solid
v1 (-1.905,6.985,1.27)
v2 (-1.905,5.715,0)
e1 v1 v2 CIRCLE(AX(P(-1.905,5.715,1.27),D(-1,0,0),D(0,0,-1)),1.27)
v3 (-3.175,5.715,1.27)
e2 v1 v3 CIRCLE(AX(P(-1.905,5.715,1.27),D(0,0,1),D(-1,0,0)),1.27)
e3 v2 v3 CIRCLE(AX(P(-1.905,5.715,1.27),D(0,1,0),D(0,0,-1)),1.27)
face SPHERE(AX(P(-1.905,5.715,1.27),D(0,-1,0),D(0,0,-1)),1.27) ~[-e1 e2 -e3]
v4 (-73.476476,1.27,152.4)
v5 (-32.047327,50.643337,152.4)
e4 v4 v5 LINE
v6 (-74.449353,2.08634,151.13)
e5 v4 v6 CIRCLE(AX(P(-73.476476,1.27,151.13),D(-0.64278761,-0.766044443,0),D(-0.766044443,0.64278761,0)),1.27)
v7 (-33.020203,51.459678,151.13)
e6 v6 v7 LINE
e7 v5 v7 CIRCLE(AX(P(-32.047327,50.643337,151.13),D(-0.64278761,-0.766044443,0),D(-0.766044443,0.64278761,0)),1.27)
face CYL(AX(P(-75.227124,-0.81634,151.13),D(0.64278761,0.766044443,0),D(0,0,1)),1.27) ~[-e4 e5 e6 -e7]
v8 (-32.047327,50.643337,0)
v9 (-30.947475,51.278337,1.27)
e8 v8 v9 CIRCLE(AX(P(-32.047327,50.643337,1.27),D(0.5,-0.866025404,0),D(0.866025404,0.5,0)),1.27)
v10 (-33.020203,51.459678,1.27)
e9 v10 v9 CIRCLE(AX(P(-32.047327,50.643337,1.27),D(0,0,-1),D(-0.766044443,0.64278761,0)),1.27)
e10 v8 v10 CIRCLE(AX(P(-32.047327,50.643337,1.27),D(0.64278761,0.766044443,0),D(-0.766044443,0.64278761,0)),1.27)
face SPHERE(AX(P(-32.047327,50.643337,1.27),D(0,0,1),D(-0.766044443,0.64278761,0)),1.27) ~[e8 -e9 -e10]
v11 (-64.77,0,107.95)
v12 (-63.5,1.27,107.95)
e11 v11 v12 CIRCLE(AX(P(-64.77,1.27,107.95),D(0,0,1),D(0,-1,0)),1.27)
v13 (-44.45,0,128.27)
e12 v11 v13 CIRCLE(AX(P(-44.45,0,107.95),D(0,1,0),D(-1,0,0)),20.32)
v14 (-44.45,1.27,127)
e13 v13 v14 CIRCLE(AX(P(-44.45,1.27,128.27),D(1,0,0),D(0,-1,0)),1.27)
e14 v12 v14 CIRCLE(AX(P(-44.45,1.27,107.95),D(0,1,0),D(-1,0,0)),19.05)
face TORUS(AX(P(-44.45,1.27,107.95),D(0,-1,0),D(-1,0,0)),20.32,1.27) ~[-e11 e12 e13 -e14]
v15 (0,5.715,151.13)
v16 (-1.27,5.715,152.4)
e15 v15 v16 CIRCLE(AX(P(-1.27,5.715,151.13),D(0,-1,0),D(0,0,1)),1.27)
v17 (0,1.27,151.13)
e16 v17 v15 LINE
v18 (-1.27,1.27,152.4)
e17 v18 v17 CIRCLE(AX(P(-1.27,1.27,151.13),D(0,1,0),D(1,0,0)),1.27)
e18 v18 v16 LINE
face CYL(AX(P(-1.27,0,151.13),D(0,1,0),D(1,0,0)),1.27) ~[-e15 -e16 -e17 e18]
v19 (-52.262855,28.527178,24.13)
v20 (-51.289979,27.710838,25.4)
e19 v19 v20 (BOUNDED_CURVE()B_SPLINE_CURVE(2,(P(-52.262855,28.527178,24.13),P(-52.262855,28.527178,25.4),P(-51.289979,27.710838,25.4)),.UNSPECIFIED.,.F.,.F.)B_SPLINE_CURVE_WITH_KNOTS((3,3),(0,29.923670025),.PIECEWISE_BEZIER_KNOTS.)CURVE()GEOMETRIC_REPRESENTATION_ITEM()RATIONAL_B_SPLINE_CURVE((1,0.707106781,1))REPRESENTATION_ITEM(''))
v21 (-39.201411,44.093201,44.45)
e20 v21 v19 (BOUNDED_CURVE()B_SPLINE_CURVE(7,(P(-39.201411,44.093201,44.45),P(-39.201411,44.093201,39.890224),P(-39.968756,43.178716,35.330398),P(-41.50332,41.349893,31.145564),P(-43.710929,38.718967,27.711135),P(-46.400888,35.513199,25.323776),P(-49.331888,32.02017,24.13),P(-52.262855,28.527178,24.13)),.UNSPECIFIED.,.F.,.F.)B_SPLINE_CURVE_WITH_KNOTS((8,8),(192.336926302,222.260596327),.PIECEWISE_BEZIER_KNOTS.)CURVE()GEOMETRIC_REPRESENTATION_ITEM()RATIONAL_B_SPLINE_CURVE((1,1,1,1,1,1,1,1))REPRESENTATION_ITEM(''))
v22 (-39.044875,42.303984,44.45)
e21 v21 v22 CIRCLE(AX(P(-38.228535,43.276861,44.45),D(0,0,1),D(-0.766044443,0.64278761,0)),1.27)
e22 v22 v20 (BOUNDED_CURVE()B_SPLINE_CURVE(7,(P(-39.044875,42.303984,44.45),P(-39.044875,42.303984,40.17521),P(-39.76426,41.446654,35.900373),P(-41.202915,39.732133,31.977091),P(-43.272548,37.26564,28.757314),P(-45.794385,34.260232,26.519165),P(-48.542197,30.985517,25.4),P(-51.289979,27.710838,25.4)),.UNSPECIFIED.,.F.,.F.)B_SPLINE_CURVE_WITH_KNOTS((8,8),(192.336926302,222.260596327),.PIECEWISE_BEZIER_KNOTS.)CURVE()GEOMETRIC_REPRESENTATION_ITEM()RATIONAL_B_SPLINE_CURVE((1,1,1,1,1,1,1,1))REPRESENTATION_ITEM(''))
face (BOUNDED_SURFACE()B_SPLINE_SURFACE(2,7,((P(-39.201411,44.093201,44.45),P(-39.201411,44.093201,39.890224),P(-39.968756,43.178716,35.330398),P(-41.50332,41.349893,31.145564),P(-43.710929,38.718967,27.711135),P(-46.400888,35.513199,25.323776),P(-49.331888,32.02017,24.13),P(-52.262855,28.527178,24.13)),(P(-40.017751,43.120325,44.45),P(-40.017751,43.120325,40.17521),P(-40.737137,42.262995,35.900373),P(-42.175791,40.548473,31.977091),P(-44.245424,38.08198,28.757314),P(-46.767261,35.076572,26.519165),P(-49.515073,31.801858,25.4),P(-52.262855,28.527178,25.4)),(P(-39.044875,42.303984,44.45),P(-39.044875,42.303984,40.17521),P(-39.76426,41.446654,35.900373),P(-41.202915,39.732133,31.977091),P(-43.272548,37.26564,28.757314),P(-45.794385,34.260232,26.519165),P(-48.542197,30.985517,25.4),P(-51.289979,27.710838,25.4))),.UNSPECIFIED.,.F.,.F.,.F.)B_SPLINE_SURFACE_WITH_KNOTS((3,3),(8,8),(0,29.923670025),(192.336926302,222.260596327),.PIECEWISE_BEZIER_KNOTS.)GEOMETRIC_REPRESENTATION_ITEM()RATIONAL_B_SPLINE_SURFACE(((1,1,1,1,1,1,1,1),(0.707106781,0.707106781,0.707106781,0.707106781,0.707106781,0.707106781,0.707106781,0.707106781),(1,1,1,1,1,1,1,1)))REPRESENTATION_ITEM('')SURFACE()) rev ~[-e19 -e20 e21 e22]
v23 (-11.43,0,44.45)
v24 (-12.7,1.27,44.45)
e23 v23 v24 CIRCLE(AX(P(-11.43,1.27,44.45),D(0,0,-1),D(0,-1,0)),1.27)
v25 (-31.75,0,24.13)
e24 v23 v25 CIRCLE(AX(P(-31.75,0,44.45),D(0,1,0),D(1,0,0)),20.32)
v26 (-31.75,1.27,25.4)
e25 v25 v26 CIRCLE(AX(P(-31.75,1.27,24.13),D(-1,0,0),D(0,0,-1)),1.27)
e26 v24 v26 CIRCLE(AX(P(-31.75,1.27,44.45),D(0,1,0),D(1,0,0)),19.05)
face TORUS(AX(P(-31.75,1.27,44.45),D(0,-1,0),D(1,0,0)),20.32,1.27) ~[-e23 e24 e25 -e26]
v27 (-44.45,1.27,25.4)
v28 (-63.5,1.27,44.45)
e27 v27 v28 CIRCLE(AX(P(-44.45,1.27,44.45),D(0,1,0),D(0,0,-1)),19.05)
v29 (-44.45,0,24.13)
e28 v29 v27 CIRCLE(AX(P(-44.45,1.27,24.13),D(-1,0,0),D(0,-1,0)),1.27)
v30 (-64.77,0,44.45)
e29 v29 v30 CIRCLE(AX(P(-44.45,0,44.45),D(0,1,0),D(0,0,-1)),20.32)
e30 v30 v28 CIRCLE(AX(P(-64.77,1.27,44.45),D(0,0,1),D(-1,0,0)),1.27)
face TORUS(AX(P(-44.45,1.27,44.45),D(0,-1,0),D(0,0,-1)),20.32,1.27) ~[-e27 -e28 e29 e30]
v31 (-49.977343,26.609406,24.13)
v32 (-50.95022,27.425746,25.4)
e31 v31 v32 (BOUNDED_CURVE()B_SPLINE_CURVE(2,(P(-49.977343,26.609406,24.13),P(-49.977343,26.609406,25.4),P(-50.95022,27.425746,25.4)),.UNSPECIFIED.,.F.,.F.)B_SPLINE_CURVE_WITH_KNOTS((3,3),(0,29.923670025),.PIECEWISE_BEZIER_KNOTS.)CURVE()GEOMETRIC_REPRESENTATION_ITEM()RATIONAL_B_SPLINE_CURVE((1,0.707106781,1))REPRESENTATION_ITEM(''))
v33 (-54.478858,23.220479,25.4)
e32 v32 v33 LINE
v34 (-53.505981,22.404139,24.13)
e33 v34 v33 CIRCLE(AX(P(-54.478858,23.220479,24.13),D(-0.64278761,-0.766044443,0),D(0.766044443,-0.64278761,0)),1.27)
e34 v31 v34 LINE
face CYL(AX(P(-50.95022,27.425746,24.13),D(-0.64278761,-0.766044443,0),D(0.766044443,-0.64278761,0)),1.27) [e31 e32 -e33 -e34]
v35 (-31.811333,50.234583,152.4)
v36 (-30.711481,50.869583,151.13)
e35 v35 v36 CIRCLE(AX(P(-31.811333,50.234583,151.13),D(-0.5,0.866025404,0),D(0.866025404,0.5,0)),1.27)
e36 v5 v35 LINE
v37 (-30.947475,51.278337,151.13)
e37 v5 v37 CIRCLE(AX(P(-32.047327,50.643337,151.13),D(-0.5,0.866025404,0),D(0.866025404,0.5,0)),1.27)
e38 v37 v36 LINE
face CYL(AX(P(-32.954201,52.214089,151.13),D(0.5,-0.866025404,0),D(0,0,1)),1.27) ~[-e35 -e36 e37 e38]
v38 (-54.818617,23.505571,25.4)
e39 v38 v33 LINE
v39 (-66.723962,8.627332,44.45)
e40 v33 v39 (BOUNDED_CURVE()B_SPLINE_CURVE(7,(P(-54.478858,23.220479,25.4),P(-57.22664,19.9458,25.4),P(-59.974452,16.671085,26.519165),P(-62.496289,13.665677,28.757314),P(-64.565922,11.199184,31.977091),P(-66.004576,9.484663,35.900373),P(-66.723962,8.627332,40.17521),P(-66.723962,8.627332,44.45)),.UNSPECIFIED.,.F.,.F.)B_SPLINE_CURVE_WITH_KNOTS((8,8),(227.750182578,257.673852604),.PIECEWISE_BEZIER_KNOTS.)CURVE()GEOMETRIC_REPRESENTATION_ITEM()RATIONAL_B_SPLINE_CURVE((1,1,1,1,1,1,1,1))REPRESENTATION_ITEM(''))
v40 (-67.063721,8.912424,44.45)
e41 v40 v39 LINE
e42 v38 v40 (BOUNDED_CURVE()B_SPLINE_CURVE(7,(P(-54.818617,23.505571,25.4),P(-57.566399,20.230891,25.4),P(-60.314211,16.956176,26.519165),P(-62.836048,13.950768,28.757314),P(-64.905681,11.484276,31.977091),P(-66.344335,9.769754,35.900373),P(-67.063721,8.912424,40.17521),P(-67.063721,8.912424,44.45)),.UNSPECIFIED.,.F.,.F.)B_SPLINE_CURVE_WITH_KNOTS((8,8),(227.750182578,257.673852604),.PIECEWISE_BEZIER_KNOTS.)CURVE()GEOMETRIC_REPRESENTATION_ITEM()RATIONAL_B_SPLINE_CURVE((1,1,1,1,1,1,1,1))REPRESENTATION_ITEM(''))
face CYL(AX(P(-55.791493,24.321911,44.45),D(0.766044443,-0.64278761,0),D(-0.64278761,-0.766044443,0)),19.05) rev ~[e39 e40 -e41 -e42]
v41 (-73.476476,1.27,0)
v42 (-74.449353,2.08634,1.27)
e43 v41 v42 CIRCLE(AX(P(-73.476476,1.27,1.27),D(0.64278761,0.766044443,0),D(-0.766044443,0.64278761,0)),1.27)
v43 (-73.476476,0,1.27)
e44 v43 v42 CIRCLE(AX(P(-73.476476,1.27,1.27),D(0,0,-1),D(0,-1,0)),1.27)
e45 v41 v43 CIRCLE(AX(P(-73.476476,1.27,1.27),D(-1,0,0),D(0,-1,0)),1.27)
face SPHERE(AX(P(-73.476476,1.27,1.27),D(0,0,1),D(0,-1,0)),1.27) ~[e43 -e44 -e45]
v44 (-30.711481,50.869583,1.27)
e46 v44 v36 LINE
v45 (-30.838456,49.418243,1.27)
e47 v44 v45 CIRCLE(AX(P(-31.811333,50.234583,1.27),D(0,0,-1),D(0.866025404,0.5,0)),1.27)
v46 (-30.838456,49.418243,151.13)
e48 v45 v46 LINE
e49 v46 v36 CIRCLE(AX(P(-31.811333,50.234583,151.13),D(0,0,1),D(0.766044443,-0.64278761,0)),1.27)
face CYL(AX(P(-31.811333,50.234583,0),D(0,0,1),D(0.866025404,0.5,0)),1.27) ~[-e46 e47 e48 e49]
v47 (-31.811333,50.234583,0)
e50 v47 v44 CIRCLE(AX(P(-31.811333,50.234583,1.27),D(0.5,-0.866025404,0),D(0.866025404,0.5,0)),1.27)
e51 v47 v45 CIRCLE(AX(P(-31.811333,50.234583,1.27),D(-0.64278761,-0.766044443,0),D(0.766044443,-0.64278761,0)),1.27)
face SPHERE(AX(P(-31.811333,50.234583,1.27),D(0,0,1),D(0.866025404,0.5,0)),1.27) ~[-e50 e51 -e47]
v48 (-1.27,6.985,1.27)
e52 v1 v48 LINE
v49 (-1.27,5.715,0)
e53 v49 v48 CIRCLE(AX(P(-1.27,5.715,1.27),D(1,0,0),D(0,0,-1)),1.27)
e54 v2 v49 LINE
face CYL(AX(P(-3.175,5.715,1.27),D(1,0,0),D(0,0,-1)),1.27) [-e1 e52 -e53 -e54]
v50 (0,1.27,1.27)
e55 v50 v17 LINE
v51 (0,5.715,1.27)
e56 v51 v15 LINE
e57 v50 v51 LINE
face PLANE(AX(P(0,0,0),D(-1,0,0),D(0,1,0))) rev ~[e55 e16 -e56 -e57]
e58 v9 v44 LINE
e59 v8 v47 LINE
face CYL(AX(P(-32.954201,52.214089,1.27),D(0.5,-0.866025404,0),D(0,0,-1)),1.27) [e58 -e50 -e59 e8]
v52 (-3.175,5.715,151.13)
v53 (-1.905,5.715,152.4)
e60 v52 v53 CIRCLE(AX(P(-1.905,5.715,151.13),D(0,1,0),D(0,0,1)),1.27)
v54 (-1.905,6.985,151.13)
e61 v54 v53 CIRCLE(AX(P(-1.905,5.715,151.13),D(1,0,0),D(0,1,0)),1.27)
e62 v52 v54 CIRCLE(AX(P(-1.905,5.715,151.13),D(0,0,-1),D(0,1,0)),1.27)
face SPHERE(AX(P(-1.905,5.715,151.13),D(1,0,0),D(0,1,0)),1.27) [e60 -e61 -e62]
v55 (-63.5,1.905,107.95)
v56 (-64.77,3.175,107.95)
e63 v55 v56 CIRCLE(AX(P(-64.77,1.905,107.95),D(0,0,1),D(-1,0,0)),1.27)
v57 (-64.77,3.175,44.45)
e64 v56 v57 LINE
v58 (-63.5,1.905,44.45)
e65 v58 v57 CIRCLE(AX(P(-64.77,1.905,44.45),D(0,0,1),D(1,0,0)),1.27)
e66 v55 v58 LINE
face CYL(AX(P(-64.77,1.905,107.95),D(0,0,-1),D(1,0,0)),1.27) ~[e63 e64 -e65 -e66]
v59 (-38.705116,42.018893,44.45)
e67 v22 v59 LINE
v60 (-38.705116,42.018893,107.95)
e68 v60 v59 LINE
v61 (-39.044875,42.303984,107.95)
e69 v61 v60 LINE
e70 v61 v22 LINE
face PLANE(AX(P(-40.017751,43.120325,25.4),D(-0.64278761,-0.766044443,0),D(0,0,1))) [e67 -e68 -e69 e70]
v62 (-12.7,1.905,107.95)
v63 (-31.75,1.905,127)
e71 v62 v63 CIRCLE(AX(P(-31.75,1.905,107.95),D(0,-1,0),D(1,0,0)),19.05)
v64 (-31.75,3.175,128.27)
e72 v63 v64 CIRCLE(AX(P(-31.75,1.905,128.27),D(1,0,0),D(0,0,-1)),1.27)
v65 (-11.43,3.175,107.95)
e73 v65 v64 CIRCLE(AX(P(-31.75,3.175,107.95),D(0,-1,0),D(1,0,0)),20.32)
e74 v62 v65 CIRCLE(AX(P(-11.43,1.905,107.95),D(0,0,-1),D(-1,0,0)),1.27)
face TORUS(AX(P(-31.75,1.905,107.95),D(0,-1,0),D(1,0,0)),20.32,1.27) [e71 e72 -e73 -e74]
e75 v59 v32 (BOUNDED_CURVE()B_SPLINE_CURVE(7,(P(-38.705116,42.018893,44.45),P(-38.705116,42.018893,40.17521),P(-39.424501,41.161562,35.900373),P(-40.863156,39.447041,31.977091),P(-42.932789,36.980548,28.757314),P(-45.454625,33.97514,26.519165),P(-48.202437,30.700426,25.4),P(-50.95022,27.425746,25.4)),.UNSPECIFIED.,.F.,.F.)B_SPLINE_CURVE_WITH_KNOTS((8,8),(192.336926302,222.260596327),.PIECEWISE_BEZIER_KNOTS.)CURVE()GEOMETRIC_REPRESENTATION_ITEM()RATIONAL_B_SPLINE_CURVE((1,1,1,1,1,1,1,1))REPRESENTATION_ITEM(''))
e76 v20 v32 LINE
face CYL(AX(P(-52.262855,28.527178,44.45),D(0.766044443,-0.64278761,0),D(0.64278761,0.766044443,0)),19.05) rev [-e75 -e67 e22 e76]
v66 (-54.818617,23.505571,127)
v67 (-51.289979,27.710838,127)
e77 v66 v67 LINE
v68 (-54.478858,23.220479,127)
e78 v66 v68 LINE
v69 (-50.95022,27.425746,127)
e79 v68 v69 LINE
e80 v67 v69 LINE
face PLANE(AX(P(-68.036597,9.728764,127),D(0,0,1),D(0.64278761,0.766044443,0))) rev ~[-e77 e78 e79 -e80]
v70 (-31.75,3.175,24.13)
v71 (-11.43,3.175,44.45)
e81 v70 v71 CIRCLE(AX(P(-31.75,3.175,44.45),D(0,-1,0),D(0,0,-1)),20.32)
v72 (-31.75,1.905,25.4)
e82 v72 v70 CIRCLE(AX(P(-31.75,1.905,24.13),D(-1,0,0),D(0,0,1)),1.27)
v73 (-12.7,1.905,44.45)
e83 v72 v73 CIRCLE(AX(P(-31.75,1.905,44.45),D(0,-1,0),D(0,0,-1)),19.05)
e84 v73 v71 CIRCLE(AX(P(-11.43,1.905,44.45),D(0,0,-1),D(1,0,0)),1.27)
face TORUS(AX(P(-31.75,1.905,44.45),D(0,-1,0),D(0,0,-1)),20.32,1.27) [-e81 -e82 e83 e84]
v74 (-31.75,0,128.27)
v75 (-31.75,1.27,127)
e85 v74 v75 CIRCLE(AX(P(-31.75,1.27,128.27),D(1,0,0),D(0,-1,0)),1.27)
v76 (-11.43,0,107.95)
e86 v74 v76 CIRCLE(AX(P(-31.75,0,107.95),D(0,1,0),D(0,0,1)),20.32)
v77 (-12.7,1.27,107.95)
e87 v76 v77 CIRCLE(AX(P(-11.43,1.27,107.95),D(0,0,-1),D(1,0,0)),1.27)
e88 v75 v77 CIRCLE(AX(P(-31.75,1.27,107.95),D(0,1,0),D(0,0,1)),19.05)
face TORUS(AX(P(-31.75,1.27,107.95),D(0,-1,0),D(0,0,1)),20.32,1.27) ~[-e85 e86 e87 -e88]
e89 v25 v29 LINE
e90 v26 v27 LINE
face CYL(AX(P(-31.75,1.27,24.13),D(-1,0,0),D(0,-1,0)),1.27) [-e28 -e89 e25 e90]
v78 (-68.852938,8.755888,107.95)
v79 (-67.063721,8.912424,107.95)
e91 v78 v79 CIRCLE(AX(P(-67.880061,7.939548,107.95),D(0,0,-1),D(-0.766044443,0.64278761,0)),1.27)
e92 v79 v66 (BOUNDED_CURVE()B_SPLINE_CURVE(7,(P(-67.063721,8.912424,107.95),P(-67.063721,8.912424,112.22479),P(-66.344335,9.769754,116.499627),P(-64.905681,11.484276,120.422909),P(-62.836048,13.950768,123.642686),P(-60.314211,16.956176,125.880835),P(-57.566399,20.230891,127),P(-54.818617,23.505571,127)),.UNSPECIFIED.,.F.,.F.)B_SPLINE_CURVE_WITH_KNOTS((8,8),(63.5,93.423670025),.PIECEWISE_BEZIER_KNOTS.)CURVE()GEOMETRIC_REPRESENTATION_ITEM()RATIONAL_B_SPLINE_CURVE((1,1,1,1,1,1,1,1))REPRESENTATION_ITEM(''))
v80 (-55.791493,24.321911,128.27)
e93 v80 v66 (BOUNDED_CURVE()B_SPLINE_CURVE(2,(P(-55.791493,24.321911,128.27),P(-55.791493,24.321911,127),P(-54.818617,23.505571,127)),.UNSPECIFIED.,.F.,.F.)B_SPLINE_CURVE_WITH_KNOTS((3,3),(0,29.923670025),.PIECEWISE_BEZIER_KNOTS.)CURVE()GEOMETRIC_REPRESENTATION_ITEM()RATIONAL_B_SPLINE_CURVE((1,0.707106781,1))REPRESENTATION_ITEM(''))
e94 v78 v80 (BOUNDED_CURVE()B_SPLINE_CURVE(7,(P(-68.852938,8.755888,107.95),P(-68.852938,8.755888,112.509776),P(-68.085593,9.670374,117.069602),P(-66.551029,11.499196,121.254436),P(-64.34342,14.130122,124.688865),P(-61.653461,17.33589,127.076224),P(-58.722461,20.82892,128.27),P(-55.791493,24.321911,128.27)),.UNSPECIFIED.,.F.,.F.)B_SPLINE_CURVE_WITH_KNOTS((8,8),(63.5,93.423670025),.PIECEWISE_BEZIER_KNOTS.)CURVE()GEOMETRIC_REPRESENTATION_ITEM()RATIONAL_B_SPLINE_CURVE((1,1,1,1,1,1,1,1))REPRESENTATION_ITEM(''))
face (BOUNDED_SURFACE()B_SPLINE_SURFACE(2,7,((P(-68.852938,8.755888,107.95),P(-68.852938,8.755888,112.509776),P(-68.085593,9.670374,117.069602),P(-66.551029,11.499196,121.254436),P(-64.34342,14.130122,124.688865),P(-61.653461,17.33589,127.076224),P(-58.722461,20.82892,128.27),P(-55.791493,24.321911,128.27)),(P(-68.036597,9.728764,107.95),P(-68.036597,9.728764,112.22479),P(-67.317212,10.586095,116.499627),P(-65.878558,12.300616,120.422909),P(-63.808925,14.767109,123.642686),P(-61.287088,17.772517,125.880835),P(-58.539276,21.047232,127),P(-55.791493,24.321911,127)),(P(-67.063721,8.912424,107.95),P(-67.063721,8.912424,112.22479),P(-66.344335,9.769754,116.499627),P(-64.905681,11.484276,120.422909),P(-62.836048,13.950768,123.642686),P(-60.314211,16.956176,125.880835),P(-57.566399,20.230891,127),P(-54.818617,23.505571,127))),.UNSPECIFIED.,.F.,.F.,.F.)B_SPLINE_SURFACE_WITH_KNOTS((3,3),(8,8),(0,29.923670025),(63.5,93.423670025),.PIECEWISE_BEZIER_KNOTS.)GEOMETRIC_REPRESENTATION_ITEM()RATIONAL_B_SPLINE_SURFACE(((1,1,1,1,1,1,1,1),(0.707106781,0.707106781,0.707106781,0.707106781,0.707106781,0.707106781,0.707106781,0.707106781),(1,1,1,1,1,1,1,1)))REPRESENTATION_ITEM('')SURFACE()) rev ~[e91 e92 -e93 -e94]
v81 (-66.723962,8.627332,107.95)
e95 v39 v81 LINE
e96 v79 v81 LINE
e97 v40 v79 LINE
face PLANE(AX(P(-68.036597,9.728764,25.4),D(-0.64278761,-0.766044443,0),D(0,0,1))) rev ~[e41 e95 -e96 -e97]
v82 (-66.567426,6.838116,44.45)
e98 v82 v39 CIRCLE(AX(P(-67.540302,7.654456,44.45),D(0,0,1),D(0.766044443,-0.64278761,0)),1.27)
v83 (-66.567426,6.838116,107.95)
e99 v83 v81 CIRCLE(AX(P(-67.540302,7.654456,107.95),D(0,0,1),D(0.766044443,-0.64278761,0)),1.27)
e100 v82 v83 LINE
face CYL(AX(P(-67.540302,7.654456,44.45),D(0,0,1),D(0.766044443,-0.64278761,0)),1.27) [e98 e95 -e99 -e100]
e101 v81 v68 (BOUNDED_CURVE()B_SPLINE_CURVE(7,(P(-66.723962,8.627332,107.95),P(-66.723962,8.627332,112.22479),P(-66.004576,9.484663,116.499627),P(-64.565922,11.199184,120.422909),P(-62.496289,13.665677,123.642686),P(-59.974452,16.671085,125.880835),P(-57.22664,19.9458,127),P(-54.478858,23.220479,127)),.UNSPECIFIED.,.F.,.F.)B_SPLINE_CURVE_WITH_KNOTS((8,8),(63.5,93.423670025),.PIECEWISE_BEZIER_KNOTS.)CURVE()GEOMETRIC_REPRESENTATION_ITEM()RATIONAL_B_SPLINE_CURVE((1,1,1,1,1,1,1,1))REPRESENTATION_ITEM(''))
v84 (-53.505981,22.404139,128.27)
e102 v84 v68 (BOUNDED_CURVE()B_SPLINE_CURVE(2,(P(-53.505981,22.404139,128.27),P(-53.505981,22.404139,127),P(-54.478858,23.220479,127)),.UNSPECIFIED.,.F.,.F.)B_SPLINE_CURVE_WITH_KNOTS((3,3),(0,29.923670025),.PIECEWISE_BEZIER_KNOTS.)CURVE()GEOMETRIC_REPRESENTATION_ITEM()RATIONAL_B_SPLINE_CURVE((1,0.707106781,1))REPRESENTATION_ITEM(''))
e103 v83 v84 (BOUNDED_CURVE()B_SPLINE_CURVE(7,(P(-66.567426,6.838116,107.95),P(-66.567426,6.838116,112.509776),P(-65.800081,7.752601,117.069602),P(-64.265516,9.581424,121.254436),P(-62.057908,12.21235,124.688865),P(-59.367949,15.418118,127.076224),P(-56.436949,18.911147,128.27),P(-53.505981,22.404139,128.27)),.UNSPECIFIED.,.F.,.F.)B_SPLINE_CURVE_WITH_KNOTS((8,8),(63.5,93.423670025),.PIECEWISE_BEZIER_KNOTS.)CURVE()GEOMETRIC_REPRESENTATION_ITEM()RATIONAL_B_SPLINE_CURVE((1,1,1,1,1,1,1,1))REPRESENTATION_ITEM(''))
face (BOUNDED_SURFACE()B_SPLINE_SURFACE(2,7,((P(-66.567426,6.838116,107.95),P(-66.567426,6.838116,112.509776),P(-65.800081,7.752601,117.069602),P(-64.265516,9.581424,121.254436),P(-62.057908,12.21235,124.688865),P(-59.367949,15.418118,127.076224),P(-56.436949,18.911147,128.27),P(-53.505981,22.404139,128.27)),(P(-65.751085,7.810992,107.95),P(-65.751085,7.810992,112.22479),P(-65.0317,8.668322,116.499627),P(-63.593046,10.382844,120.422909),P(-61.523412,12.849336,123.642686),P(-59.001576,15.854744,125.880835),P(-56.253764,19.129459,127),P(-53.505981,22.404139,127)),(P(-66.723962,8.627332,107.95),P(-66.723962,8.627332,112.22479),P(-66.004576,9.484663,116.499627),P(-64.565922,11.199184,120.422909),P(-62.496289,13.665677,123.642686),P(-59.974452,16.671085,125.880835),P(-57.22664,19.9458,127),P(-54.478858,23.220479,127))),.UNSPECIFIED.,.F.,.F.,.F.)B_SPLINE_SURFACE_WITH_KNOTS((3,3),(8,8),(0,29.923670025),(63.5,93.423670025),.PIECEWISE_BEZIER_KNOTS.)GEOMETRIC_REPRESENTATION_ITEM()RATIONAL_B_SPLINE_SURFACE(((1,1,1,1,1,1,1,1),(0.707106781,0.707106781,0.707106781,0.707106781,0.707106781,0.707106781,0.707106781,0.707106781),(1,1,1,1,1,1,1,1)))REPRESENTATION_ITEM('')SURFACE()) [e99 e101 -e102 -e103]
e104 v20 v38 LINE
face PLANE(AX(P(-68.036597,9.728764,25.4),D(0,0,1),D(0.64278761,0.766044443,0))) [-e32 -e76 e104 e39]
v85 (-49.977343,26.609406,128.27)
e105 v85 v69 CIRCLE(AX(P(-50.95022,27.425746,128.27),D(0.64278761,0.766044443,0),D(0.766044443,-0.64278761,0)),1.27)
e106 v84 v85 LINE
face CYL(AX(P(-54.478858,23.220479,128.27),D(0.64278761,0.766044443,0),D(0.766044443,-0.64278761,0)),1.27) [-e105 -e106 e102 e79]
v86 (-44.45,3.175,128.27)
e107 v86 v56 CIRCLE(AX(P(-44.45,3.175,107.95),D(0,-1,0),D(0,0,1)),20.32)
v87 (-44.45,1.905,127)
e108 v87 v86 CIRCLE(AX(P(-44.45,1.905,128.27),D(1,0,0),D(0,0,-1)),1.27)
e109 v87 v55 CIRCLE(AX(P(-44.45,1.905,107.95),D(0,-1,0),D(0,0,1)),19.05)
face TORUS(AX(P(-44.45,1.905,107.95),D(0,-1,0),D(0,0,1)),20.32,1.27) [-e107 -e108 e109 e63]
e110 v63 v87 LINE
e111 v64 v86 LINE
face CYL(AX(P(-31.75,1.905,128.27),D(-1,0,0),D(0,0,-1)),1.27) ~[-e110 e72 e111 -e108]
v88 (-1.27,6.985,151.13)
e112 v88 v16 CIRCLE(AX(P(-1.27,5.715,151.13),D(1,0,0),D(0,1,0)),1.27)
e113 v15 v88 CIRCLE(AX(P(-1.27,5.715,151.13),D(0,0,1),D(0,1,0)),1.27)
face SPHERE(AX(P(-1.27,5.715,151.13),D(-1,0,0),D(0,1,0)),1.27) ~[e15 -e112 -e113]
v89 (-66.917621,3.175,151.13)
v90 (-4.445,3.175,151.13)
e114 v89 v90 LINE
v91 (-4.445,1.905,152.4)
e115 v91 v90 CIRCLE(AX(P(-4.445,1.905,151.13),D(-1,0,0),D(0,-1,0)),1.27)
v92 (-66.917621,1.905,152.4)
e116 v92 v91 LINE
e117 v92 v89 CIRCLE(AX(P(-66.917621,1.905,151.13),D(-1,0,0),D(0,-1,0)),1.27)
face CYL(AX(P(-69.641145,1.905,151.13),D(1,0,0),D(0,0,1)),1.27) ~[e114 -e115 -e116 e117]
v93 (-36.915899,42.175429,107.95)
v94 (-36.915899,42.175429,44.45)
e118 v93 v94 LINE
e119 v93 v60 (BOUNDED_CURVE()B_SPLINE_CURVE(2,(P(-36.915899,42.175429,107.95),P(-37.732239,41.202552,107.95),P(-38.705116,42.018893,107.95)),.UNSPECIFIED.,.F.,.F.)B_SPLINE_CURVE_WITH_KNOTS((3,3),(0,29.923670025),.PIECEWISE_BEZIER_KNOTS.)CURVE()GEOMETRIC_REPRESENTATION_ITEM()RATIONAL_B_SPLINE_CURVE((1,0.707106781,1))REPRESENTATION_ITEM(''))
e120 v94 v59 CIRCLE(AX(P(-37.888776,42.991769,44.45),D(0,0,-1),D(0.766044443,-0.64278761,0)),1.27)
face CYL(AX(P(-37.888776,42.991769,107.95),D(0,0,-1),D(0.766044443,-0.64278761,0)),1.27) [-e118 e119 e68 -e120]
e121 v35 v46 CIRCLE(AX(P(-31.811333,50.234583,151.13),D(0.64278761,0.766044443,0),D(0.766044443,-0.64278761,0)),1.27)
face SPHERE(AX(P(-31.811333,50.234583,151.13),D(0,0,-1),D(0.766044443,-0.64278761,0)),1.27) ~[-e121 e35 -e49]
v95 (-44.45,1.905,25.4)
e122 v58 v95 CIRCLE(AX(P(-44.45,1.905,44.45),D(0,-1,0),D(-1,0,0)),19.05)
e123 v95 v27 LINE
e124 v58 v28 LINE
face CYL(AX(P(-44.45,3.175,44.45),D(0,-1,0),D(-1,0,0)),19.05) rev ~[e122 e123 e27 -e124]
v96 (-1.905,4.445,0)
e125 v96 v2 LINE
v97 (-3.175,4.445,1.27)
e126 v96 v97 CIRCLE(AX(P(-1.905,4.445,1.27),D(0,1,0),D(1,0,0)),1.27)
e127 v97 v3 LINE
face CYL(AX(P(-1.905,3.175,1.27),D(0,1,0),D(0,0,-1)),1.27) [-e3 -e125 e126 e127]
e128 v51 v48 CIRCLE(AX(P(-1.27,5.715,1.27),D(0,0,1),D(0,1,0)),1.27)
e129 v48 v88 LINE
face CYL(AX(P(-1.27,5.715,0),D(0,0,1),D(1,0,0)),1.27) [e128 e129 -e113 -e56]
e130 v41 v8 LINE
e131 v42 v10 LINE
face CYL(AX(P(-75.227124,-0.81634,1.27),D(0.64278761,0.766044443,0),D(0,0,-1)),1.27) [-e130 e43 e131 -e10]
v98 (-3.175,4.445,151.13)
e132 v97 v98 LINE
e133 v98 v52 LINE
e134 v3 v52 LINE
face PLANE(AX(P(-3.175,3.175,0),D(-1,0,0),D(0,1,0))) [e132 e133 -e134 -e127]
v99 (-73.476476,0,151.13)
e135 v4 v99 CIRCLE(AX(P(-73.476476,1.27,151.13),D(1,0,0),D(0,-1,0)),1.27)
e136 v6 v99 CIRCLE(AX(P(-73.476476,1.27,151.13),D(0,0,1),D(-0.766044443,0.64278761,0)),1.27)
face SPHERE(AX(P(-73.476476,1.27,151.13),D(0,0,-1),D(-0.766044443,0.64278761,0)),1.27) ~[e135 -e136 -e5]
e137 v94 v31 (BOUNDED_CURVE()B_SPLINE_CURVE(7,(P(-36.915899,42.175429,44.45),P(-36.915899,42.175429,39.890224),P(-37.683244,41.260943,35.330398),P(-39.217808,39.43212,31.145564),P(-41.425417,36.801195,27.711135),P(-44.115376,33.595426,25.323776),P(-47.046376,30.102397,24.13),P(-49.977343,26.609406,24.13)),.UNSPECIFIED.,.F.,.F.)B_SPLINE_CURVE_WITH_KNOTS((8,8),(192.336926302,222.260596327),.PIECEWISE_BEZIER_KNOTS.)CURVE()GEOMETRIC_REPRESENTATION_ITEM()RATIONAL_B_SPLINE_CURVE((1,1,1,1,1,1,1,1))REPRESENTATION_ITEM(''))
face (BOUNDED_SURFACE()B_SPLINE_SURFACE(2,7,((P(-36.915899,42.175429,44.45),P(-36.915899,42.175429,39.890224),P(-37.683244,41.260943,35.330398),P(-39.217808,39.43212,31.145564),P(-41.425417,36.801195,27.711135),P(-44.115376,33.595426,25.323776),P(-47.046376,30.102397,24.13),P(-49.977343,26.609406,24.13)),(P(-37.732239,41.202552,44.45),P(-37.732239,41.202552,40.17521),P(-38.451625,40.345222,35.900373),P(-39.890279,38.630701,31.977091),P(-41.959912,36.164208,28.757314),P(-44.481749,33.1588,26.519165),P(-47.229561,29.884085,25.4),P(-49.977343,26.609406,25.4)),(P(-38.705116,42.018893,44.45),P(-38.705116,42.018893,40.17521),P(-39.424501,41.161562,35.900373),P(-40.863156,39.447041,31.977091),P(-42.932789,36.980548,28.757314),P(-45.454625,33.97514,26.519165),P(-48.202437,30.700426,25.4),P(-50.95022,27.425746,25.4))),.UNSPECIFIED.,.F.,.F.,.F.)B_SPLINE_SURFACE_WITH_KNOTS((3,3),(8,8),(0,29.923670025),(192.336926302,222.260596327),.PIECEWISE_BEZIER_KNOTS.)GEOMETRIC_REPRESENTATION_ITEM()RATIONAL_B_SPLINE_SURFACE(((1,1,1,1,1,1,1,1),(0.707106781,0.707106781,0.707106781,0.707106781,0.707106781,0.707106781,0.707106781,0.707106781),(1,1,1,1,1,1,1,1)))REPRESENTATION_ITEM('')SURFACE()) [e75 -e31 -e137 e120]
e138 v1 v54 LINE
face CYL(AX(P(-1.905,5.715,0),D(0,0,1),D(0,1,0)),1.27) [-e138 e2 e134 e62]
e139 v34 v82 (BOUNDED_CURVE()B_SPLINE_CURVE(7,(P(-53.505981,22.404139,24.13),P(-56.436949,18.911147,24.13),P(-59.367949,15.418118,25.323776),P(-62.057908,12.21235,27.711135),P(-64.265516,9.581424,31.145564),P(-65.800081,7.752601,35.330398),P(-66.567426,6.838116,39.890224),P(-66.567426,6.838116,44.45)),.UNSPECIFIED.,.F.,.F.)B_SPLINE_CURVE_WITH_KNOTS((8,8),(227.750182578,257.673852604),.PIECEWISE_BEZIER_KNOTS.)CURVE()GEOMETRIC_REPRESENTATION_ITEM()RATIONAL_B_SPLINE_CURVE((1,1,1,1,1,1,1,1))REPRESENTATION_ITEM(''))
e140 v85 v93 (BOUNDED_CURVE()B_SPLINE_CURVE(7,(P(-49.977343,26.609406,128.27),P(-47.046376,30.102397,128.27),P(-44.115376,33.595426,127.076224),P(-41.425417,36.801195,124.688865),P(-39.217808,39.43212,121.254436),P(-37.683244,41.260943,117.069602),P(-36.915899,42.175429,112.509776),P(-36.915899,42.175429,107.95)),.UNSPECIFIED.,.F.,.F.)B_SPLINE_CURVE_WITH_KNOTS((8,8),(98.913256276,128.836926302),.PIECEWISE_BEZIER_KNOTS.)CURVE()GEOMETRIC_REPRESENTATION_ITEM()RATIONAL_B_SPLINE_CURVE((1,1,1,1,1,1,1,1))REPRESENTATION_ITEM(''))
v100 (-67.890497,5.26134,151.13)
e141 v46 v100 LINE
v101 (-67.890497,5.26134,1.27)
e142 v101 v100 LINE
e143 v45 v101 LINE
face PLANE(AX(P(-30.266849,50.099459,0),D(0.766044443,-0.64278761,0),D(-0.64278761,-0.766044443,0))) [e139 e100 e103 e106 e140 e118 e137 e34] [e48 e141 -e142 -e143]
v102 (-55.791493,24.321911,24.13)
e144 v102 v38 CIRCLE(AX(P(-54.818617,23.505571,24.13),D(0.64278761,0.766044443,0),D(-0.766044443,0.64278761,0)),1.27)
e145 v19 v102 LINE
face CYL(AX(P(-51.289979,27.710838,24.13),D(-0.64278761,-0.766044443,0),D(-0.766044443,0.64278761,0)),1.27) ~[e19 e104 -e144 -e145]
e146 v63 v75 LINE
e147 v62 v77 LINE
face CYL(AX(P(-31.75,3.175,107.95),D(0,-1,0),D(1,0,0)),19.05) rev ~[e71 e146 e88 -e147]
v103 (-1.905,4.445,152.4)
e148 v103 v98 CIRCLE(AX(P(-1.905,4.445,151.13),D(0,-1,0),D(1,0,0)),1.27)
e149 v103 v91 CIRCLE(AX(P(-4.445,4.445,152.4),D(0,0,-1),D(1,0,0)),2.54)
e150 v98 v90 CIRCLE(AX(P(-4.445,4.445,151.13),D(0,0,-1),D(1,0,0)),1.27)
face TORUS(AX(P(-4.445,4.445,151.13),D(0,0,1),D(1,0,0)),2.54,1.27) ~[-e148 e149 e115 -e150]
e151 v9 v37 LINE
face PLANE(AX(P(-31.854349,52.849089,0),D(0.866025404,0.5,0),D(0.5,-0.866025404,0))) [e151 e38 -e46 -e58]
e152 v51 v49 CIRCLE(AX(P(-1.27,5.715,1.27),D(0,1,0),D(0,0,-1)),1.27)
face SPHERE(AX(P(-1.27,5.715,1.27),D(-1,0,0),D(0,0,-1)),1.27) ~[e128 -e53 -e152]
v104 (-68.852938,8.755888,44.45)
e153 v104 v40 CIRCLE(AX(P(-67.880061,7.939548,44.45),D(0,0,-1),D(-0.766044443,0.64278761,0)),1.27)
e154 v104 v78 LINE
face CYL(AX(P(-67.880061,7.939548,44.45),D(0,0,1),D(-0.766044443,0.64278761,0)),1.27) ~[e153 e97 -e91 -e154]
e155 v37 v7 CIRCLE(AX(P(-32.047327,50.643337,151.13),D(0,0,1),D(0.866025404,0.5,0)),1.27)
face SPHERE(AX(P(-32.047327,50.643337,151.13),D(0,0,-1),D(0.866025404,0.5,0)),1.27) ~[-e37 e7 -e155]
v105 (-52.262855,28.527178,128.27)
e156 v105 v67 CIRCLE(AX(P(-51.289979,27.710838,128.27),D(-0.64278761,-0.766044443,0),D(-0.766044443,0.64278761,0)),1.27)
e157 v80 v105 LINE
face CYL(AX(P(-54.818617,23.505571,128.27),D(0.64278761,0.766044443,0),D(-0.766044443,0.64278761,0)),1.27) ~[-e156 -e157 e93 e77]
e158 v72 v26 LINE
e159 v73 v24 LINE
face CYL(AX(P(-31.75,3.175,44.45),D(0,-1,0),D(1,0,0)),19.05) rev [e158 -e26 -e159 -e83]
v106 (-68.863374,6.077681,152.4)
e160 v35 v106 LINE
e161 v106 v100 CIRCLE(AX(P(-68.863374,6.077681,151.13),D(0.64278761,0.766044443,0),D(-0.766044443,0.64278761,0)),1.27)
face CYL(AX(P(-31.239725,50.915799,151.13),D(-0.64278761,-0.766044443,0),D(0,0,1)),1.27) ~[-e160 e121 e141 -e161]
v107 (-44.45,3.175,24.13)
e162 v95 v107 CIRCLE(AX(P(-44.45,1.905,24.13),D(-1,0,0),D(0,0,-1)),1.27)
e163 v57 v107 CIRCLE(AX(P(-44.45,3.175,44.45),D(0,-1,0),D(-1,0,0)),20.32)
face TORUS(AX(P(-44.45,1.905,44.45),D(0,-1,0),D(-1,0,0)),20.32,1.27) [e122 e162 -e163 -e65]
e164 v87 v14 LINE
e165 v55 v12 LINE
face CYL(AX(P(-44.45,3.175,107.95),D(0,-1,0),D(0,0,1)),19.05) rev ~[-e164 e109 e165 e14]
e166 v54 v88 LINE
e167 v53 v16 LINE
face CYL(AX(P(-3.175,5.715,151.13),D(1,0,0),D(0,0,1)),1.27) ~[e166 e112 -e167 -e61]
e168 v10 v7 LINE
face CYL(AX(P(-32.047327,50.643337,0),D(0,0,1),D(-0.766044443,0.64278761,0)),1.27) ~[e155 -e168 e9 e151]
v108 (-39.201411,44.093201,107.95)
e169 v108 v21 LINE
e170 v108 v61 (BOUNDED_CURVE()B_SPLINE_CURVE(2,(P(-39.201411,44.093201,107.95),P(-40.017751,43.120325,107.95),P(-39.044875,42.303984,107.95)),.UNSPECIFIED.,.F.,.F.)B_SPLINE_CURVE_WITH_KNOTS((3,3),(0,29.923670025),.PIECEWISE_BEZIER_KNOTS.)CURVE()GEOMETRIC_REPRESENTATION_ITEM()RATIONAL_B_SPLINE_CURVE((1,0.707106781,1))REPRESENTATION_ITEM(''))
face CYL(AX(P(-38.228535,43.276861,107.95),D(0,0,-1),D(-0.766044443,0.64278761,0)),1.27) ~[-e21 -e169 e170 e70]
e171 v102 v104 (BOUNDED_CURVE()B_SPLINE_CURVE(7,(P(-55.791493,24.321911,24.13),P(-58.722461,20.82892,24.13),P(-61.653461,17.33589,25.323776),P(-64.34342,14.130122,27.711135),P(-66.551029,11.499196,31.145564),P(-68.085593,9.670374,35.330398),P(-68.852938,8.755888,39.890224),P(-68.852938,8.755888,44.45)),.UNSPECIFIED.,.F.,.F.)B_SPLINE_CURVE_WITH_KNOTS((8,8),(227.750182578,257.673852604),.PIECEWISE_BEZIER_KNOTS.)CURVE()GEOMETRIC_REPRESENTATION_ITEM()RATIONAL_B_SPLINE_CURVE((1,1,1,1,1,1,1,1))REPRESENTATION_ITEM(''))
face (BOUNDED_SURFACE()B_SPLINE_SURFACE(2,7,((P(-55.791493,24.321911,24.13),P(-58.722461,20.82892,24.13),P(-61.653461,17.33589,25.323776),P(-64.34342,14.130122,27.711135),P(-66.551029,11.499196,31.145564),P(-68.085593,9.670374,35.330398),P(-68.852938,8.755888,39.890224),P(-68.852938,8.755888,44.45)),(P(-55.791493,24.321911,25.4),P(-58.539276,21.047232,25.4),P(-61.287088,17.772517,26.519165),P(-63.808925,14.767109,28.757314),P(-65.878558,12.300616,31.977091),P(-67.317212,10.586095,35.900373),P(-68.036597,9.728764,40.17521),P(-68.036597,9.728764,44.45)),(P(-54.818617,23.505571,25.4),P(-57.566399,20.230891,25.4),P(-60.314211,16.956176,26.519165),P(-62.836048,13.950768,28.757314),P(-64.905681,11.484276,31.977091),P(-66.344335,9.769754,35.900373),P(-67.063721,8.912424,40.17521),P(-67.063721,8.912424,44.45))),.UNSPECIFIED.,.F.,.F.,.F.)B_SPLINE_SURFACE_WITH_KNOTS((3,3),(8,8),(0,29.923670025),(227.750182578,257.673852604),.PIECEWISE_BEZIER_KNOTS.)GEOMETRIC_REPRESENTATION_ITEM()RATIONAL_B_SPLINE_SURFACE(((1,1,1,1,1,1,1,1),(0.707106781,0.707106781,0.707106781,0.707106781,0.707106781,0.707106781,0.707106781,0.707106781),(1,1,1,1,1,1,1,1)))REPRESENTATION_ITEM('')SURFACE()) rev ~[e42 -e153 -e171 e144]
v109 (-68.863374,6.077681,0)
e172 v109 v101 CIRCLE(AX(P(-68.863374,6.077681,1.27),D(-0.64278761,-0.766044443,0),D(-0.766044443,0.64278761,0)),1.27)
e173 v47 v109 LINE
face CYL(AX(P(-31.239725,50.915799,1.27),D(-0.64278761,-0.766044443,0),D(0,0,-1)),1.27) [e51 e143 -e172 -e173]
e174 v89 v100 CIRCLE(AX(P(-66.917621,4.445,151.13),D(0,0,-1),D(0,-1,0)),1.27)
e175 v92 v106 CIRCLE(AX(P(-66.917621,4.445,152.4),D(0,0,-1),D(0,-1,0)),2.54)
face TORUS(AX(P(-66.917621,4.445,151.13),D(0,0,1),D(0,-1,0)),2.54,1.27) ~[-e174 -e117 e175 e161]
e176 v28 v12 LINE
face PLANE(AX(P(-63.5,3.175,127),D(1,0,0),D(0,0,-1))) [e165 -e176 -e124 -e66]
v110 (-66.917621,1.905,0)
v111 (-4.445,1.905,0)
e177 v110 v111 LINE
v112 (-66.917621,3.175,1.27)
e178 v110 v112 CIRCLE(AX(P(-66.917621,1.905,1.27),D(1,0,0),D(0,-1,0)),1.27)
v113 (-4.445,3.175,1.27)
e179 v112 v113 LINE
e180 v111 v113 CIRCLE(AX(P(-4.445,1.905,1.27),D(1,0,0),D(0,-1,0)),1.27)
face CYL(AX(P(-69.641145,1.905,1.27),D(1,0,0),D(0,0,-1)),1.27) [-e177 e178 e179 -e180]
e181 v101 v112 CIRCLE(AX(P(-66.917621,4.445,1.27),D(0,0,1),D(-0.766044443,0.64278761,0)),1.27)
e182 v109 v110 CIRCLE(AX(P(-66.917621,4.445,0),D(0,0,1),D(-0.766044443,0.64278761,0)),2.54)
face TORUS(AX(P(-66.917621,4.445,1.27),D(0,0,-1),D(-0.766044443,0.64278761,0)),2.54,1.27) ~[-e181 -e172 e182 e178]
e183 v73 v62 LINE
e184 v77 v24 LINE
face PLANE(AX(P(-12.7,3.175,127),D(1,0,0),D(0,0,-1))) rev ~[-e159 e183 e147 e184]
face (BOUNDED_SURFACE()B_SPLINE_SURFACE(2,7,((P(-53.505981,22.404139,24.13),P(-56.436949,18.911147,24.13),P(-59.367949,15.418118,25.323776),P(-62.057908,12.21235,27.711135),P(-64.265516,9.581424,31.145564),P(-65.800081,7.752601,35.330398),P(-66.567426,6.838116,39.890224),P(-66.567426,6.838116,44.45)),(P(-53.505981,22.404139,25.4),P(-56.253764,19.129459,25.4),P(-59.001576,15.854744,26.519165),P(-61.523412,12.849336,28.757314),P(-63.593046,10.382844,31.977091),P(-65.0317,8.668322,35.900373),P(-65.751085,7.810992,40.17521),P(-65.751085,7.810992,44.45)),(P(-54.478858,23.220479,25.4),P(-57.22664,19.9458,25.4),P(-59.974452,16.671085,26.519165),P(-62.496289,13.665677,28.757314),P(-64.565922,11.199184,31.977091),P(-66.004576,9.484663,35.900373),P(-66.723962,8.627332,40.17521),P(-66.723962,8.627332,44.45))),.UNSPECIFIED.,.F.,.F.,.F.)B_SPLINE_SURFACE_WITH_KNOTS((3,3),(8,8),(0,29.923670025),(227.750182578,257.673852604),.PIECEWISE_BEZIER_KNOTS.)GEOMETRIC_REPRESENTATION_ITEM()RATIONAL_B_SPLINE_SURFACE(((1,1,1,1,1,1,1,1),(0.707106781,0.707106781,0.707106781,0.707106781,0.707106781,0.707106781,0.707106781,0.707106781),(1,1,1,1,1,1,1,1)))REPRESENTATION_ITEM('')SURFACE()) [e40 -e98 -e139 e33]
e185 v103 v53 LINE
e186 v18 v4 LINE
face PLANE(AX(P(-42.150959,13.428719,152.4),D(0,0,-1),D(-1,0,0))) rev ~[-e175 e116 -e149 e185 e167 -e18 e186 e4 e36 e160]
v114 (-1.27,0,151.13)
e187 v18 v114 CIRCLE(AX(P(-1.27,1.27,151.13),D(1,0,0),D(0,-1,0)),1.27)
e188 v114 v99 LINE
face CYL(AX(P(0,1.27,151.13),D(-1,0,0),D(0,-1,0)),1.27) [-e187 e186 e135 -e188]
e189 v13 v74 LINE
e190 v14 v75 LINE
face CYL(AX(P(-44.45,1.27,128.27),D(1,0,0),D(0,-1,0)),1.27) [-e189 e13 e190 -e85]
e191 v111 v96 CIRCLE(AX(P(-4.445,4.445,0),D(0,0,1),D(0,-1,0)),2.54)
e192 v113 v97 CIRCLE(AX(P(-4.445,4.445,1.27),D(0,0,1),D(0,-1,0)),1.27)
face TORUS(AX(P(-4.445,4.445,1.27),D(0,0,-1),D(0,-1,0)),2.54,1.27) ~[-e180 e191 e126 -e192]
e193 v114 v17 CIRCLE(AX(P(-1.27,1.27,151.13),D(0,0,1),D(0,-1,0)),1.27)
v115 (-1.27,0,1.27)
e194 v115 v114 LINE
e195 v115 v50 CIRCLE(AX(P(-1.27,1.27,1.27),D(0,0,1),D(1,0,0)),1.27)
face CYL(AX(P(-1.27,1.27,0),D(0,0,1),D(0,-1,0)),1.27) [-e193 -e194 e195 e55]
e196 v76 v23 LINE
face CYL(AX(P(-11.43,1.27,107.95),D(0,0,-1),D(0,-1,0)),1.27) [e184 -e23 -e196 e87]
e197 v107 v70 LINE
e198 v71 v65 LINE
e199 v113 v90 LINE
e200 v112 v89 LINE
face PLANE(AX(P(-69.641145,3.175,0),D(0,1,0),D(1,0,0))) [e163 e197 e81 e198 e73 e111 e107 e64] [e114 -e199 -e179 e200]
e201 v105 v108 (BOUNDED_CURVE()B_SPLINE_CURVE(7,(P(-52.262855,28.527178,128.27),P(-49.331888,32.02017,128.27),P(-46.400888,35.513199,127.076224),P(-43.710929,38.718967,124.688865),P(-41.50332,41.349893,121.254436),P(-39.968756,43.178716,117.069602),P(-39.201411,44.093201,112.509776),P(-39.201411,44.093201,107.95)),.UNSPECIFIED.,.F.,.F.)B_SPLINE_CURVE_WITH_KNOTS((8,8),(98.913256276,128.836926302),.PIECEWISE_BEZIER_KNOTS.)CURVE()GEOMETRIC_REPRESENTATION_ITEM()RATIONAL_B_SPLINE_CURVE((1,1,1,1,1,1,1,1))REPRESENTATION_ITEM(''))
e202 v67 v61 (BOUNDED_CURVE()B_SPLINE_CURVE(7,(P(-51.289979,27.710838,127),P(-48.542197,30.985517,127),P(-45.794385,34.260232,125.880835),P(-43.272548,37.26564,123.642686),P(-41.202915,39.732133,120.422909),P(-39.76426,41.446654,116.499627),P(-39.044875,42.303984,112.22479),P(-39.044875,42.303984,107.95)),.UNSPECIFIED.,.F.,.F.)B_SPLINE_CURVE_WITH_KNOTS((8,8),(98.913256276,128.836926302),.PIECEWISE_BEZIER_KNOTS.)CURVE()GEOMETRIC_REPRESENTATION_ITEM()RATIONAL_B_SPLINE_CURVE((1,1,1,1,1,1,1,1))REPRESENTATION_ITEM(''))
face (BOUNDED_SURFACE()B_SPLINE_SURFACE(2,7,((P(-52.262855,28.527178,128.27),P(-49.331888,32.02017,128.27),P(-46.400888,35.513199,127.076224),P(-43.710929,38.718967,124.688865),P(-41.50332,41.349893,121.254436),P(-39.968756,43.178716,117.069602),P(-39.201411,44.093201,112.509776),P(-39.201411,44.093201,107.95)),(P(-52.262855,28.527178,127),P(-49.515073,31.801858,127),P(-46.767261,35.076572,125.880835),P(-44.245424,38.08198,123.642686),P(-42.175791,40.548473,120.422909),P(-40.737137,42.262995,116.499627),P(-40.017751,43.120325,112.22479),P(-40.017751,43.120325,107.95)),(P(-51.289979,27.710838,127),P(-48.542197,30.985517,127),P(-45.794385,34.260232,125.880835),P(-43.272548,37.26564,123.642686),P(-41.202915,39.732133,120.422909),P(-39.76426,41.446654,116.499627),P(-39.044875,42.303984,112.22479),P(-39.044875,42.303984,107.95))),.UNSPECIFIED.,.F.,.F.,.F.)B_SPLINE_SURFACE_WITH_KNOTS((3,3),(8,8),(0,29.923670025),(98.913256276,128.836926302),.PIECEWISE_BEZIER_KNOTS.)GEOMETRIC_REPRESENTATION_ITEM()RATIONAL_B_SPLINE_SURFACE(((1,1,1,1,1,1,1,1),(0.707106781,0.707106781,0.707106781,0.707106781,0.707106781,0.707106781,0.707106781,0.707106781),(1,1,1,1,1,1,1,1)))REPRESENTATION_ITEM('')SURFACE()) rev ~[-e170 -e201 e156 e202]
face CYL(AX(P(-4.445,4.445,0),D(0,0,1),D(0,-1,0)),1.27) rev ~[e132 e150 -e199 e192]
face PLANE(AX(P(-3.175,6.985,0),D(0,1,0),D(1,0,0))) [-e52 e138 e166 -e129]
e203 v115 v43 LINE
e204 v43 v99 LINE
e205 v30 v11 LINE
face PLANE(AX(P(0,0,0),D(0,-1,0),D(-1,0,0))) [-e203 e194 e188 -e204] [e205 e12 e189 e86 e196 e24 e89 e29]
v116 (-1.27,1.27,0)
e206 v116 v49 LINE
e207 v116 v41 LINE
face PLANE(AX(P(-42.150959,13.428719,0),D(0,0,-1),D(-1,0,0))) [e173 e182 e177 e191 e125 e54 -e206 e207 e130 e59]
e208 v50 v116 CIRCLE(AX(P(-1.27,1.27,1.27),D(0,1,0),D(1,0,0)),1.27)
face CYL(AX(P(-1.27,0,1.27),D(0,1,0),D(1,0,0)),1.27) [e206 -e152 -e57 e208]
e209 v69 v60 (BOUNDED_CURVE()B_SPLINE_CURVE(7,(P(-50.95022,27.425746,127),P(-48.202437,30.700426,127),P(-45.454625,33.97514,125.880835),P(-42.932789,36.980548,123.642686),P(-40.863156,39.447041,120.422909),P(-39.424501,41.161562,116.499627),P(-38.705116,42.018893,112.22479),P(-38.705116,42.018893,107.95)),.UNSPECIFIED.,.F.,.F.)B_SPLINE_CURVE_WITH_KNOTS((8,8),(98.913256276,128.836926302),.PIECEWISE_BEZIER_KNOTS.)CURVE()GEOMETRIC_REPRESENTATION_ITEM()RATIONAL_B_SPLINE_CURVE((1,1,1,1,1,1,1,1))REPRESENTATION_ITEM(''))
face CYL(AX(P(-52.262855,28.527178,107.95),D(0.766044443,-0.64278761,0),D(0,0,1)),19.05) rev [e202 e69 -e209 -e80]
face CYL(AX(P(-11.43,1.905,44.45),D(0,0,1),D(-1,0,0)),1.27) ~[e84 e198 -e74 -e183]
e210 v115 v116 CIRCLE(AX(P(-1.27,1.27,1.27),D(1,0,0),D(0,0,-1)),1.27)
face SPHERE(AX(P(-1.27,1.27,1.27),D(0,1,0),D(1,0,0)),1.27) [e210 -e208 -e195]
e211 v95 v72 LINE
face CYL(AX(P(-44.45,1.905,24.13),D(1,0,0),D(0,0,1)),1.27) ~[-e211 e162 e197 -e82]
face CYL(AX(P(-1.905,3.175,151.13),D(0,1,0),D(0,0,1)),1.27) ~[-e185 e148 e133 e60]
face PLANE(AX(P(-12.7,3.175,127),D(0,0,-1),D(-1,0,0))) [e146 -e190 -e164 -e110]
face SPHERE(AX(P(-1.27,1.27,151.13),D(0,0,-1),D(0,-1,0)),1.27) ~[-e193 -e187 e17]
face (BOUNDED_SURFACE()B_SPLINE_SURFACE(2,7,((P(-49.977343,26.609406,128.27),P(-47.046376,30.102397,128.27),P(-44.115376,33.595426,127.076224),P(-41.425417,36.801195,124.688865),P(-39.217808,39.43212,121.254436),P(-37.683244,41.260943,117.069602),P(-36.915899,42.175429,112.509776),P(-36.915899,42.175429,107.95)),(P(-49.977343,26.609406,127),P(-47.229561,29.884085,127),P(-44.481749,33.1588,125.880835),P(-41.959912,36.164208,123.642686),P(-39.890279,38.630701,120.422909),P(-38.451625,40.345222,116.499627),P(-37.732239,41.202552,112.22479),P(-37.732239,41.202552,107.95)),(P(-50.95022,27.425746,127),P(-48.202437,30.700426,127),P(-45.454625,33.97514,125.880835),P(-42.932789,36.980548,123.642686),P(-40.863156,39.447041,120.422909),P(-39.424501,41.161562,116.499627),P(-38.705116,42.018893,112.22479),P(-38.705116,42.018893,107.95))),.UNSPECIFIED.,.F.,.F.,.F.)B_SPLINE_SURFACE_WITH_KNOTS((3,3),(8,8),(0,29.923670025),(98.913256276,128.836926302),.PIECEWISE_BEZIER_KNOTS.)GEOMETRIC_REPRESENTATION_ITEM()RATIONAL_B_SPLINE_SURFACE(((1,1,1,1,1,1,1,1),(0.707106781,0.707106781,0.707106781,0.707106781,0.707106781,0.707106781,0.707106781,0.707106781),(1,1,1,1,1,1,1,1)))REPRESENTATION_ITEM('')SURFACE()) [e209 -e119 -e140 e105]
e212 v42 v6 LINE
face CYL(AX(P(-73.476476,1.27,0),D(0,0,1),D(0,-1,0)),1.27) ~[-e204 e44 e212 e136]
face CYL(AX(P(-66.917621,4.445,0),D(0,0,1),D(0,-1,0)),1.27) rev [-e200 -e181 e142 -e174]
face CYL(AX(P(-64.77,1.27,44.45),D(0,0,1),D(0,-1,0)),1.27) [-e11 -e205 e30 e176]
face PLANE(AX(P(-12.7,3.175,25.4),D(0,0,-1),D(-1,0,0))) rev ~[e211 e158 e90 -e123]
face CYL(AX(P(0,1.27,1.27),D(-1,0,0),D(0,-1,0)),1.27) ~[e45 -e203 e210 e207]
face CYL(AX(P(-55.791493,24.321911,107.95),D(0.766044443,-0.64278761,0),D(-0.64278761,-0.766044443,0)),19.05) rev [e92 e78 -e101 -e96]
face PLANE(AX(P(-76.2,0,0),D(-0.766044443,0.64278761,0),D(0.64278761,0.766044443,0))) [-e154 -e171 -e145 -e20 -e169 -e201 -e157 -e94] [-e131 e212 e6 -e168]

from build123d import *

# Parameters (mm, degrees)
BOSS_EXTRUDE2_DEPTH     = 152.4
CUT_EXTRUDE2_DEPTH      = 179.396261808
CUT_EXTRUDE2_DEPTH_BACK = 3.175
SKETCH3_W               = 50.8
SKETCH3_H               = 101.6
SKETCH4_W               = 101.6
SKETCH4_H               = 43.589586251
CUT_EXTRUDE3_DEPTH      = 2.983524071
FILLET1_R               = 19.05
FILLET2_R               = 19.05
FILLET3_R               = 1.27


with BuildPart() as part:
    # Sketch2 → Boss-Extrude2 (new body)
    with BuildSketch(Plane.XY):
        Polygon((0, 0), (-76.2, 0), (-31.85434876, 52.849089181), (-30.26684876, 50.099458524), (-69.641144601, 3.175), (-3.175, 3.175), (-3.175, 6.985), (0, 6.985), (0, 3.175), align=None)
    extrude(amount=BOSS_EXTRUDE2_DEPTH)

    # Sketch3 → Cut-Extrude2 (cut, two sides: drawn at the far end of the back side and taken through both)
    with BuildSketch(Plane(origin=(0, 0, 0), x_dir=(-1, 0, 0), z_dir=(0, -1, 0)).offset(-CUT_EXTRUDE2_DEPTH_BACK)):
        with Locations((38.1, -76.2)):
            Rectangle(SKETCH3_W, SKETCH3_H)
    extrude(amount=CUT_EXTRUDE2_DEPTH + CUT_EXTRUDE2_DEPTH_BACK, mode=Mode.SUBTRACT)

    # Sketch4 → Cut-Extrude3 (cut)
    with BuildSketch(Plane(origin=(-44.715995569, 37.52117539, 0), x_dir=(0, 0, 1), z_dir=(-0.7660444431189749, 0.6427876096865432, 0))):
        with Locations((76.2, -14.485622733)):
            Rectangle(SKETCH4_W, SKETCH4_H)
    extrude(amount=-CUT_EXTRUDE3_DEPTH, mode=Mode.SUBTRACT)

    # Fillet1
    fillet1_edges = [part.edges().sort_by_distance(p)[0] for p in [
        (-66.893841339, 8.769878275, 25.4),
        (-66.893841339, 8.769878275, 127),
        (-38.874995386, 42.1614386, 127),
        (-38.874995386, 42.1614386, 25.4),
    ]]
    fillet(fillet1_edges, radius=FILLET1_R)

    # Fillet2
    fillet2_edges = [part.edges().sort_by_distance(p)[0] for p in [
        (-12.7, 1.5875, 127),
        (-12.7, 1.5875, 25.4),
        (-63.5, 1.5875, 25.4),
        (-63.5, 1.5875, 127),
    ]]
    fillet(fillet2_edges, radius=FILLET2_R)

    # Fillet3
    fillet3_edges = [part.edges().sort_by_distance(p)[0] for p in [
        (-38.1, 3.175, 127),
        (-38.1, 0, 127),
        (-12.7, 3.175, 76.2),
        (-31.06059876, 51.474273852, 0),
        (-12.7, 0, 76.2),
        (-38.1, 3.175, 25.4),
        (-38.1, 0, 25.4),
        (-49.953996681, 26.637229262, 0),
        (-63.5, 3.175, 76.2),
        (-63.5, 0, 76.2),
        (-18.279615818, 0, 121.420384182),
        (-18.279615818, 3.175, 121.420384182),
        (-18.279615818, 0, 30.979615818),
        (-36.4080723, 3.175, 0),
        (-18.279615818, 3.175, 30.979615818),
        (-57.920384182, 0, 121.420384182),
        (-57.920384182, 3.175, 121.420384182),
        (-57.920384182, 0, 30.979615818),
        (-57.920384182, 3.175, 30.979615818),
        (-3.175, 5.08, 0),
        (-1.5875, 6.985, 0),
        (0, 3.4925, 0),
        (-1.5875, 6.985, 152.4),
        (0, 0, 76.2),
        (-76.2, 0, 76.2),
        (-31.85434876, 52.849089181, 76.2),
        (-30.26684876, 50.099458524, 76.2),
        (-69.641144601, 3.175, 76.2),
        (-3.175, 3.175, 76.2),
        (-3.175, 6.985, 76.2),
        (0, 6.985, 76.2),
        (-3.175, 5.08, 152.4),
        (-36.4080723, 3.175, 152.4),
        (-49.953996681, 26.637229262, 152.4),
        (-31.06059876, 51.474273852, 152.4),
        (-54.02717438, 26.42454459, 152.4),
        (-38.1, 0, 152.4),
        (0, 3.4925, 152.4),
        (-68.036597357, 9.728764428, 76.2),
        (-65.751085321, 7.810992122, 76.2),
        (-54.02717438, 26.42454459, 25.4),
        (-51.741662345, 24.506772284, 25.4),
        (-51.741662345, 24.506772284, 127),
        (-54.02717438, 26.42454459, 127),
        (-37.732239368, 41.202552447, 76.2),
        (-40.017751403, 43.120324753, 76.2),
        (-64.450089442, 14.00299812, 30.979615818),
        (-62.164577407, 12.085225814, 30.979615818),
        (-64.450089442, 14.00299812, 121.420384182),
        (-62.164577407, 12.085225814, 121.420384182),
        (-43.604259318, 38.846091061, 121.420384182),
        (-41.318747283, 36.928318755, 121.420384182),
        (-43.604259318, 38.846091061, 30.979615818),
        (-41.318747283, 36.928318755, 30.979615818),
        (-38.1, 0, 0),
        (-54.02717438, 26.42454459, 0),
    ]]
    fillet(fillet3_edges, radius=FILLET3_R)


solid = part.part
